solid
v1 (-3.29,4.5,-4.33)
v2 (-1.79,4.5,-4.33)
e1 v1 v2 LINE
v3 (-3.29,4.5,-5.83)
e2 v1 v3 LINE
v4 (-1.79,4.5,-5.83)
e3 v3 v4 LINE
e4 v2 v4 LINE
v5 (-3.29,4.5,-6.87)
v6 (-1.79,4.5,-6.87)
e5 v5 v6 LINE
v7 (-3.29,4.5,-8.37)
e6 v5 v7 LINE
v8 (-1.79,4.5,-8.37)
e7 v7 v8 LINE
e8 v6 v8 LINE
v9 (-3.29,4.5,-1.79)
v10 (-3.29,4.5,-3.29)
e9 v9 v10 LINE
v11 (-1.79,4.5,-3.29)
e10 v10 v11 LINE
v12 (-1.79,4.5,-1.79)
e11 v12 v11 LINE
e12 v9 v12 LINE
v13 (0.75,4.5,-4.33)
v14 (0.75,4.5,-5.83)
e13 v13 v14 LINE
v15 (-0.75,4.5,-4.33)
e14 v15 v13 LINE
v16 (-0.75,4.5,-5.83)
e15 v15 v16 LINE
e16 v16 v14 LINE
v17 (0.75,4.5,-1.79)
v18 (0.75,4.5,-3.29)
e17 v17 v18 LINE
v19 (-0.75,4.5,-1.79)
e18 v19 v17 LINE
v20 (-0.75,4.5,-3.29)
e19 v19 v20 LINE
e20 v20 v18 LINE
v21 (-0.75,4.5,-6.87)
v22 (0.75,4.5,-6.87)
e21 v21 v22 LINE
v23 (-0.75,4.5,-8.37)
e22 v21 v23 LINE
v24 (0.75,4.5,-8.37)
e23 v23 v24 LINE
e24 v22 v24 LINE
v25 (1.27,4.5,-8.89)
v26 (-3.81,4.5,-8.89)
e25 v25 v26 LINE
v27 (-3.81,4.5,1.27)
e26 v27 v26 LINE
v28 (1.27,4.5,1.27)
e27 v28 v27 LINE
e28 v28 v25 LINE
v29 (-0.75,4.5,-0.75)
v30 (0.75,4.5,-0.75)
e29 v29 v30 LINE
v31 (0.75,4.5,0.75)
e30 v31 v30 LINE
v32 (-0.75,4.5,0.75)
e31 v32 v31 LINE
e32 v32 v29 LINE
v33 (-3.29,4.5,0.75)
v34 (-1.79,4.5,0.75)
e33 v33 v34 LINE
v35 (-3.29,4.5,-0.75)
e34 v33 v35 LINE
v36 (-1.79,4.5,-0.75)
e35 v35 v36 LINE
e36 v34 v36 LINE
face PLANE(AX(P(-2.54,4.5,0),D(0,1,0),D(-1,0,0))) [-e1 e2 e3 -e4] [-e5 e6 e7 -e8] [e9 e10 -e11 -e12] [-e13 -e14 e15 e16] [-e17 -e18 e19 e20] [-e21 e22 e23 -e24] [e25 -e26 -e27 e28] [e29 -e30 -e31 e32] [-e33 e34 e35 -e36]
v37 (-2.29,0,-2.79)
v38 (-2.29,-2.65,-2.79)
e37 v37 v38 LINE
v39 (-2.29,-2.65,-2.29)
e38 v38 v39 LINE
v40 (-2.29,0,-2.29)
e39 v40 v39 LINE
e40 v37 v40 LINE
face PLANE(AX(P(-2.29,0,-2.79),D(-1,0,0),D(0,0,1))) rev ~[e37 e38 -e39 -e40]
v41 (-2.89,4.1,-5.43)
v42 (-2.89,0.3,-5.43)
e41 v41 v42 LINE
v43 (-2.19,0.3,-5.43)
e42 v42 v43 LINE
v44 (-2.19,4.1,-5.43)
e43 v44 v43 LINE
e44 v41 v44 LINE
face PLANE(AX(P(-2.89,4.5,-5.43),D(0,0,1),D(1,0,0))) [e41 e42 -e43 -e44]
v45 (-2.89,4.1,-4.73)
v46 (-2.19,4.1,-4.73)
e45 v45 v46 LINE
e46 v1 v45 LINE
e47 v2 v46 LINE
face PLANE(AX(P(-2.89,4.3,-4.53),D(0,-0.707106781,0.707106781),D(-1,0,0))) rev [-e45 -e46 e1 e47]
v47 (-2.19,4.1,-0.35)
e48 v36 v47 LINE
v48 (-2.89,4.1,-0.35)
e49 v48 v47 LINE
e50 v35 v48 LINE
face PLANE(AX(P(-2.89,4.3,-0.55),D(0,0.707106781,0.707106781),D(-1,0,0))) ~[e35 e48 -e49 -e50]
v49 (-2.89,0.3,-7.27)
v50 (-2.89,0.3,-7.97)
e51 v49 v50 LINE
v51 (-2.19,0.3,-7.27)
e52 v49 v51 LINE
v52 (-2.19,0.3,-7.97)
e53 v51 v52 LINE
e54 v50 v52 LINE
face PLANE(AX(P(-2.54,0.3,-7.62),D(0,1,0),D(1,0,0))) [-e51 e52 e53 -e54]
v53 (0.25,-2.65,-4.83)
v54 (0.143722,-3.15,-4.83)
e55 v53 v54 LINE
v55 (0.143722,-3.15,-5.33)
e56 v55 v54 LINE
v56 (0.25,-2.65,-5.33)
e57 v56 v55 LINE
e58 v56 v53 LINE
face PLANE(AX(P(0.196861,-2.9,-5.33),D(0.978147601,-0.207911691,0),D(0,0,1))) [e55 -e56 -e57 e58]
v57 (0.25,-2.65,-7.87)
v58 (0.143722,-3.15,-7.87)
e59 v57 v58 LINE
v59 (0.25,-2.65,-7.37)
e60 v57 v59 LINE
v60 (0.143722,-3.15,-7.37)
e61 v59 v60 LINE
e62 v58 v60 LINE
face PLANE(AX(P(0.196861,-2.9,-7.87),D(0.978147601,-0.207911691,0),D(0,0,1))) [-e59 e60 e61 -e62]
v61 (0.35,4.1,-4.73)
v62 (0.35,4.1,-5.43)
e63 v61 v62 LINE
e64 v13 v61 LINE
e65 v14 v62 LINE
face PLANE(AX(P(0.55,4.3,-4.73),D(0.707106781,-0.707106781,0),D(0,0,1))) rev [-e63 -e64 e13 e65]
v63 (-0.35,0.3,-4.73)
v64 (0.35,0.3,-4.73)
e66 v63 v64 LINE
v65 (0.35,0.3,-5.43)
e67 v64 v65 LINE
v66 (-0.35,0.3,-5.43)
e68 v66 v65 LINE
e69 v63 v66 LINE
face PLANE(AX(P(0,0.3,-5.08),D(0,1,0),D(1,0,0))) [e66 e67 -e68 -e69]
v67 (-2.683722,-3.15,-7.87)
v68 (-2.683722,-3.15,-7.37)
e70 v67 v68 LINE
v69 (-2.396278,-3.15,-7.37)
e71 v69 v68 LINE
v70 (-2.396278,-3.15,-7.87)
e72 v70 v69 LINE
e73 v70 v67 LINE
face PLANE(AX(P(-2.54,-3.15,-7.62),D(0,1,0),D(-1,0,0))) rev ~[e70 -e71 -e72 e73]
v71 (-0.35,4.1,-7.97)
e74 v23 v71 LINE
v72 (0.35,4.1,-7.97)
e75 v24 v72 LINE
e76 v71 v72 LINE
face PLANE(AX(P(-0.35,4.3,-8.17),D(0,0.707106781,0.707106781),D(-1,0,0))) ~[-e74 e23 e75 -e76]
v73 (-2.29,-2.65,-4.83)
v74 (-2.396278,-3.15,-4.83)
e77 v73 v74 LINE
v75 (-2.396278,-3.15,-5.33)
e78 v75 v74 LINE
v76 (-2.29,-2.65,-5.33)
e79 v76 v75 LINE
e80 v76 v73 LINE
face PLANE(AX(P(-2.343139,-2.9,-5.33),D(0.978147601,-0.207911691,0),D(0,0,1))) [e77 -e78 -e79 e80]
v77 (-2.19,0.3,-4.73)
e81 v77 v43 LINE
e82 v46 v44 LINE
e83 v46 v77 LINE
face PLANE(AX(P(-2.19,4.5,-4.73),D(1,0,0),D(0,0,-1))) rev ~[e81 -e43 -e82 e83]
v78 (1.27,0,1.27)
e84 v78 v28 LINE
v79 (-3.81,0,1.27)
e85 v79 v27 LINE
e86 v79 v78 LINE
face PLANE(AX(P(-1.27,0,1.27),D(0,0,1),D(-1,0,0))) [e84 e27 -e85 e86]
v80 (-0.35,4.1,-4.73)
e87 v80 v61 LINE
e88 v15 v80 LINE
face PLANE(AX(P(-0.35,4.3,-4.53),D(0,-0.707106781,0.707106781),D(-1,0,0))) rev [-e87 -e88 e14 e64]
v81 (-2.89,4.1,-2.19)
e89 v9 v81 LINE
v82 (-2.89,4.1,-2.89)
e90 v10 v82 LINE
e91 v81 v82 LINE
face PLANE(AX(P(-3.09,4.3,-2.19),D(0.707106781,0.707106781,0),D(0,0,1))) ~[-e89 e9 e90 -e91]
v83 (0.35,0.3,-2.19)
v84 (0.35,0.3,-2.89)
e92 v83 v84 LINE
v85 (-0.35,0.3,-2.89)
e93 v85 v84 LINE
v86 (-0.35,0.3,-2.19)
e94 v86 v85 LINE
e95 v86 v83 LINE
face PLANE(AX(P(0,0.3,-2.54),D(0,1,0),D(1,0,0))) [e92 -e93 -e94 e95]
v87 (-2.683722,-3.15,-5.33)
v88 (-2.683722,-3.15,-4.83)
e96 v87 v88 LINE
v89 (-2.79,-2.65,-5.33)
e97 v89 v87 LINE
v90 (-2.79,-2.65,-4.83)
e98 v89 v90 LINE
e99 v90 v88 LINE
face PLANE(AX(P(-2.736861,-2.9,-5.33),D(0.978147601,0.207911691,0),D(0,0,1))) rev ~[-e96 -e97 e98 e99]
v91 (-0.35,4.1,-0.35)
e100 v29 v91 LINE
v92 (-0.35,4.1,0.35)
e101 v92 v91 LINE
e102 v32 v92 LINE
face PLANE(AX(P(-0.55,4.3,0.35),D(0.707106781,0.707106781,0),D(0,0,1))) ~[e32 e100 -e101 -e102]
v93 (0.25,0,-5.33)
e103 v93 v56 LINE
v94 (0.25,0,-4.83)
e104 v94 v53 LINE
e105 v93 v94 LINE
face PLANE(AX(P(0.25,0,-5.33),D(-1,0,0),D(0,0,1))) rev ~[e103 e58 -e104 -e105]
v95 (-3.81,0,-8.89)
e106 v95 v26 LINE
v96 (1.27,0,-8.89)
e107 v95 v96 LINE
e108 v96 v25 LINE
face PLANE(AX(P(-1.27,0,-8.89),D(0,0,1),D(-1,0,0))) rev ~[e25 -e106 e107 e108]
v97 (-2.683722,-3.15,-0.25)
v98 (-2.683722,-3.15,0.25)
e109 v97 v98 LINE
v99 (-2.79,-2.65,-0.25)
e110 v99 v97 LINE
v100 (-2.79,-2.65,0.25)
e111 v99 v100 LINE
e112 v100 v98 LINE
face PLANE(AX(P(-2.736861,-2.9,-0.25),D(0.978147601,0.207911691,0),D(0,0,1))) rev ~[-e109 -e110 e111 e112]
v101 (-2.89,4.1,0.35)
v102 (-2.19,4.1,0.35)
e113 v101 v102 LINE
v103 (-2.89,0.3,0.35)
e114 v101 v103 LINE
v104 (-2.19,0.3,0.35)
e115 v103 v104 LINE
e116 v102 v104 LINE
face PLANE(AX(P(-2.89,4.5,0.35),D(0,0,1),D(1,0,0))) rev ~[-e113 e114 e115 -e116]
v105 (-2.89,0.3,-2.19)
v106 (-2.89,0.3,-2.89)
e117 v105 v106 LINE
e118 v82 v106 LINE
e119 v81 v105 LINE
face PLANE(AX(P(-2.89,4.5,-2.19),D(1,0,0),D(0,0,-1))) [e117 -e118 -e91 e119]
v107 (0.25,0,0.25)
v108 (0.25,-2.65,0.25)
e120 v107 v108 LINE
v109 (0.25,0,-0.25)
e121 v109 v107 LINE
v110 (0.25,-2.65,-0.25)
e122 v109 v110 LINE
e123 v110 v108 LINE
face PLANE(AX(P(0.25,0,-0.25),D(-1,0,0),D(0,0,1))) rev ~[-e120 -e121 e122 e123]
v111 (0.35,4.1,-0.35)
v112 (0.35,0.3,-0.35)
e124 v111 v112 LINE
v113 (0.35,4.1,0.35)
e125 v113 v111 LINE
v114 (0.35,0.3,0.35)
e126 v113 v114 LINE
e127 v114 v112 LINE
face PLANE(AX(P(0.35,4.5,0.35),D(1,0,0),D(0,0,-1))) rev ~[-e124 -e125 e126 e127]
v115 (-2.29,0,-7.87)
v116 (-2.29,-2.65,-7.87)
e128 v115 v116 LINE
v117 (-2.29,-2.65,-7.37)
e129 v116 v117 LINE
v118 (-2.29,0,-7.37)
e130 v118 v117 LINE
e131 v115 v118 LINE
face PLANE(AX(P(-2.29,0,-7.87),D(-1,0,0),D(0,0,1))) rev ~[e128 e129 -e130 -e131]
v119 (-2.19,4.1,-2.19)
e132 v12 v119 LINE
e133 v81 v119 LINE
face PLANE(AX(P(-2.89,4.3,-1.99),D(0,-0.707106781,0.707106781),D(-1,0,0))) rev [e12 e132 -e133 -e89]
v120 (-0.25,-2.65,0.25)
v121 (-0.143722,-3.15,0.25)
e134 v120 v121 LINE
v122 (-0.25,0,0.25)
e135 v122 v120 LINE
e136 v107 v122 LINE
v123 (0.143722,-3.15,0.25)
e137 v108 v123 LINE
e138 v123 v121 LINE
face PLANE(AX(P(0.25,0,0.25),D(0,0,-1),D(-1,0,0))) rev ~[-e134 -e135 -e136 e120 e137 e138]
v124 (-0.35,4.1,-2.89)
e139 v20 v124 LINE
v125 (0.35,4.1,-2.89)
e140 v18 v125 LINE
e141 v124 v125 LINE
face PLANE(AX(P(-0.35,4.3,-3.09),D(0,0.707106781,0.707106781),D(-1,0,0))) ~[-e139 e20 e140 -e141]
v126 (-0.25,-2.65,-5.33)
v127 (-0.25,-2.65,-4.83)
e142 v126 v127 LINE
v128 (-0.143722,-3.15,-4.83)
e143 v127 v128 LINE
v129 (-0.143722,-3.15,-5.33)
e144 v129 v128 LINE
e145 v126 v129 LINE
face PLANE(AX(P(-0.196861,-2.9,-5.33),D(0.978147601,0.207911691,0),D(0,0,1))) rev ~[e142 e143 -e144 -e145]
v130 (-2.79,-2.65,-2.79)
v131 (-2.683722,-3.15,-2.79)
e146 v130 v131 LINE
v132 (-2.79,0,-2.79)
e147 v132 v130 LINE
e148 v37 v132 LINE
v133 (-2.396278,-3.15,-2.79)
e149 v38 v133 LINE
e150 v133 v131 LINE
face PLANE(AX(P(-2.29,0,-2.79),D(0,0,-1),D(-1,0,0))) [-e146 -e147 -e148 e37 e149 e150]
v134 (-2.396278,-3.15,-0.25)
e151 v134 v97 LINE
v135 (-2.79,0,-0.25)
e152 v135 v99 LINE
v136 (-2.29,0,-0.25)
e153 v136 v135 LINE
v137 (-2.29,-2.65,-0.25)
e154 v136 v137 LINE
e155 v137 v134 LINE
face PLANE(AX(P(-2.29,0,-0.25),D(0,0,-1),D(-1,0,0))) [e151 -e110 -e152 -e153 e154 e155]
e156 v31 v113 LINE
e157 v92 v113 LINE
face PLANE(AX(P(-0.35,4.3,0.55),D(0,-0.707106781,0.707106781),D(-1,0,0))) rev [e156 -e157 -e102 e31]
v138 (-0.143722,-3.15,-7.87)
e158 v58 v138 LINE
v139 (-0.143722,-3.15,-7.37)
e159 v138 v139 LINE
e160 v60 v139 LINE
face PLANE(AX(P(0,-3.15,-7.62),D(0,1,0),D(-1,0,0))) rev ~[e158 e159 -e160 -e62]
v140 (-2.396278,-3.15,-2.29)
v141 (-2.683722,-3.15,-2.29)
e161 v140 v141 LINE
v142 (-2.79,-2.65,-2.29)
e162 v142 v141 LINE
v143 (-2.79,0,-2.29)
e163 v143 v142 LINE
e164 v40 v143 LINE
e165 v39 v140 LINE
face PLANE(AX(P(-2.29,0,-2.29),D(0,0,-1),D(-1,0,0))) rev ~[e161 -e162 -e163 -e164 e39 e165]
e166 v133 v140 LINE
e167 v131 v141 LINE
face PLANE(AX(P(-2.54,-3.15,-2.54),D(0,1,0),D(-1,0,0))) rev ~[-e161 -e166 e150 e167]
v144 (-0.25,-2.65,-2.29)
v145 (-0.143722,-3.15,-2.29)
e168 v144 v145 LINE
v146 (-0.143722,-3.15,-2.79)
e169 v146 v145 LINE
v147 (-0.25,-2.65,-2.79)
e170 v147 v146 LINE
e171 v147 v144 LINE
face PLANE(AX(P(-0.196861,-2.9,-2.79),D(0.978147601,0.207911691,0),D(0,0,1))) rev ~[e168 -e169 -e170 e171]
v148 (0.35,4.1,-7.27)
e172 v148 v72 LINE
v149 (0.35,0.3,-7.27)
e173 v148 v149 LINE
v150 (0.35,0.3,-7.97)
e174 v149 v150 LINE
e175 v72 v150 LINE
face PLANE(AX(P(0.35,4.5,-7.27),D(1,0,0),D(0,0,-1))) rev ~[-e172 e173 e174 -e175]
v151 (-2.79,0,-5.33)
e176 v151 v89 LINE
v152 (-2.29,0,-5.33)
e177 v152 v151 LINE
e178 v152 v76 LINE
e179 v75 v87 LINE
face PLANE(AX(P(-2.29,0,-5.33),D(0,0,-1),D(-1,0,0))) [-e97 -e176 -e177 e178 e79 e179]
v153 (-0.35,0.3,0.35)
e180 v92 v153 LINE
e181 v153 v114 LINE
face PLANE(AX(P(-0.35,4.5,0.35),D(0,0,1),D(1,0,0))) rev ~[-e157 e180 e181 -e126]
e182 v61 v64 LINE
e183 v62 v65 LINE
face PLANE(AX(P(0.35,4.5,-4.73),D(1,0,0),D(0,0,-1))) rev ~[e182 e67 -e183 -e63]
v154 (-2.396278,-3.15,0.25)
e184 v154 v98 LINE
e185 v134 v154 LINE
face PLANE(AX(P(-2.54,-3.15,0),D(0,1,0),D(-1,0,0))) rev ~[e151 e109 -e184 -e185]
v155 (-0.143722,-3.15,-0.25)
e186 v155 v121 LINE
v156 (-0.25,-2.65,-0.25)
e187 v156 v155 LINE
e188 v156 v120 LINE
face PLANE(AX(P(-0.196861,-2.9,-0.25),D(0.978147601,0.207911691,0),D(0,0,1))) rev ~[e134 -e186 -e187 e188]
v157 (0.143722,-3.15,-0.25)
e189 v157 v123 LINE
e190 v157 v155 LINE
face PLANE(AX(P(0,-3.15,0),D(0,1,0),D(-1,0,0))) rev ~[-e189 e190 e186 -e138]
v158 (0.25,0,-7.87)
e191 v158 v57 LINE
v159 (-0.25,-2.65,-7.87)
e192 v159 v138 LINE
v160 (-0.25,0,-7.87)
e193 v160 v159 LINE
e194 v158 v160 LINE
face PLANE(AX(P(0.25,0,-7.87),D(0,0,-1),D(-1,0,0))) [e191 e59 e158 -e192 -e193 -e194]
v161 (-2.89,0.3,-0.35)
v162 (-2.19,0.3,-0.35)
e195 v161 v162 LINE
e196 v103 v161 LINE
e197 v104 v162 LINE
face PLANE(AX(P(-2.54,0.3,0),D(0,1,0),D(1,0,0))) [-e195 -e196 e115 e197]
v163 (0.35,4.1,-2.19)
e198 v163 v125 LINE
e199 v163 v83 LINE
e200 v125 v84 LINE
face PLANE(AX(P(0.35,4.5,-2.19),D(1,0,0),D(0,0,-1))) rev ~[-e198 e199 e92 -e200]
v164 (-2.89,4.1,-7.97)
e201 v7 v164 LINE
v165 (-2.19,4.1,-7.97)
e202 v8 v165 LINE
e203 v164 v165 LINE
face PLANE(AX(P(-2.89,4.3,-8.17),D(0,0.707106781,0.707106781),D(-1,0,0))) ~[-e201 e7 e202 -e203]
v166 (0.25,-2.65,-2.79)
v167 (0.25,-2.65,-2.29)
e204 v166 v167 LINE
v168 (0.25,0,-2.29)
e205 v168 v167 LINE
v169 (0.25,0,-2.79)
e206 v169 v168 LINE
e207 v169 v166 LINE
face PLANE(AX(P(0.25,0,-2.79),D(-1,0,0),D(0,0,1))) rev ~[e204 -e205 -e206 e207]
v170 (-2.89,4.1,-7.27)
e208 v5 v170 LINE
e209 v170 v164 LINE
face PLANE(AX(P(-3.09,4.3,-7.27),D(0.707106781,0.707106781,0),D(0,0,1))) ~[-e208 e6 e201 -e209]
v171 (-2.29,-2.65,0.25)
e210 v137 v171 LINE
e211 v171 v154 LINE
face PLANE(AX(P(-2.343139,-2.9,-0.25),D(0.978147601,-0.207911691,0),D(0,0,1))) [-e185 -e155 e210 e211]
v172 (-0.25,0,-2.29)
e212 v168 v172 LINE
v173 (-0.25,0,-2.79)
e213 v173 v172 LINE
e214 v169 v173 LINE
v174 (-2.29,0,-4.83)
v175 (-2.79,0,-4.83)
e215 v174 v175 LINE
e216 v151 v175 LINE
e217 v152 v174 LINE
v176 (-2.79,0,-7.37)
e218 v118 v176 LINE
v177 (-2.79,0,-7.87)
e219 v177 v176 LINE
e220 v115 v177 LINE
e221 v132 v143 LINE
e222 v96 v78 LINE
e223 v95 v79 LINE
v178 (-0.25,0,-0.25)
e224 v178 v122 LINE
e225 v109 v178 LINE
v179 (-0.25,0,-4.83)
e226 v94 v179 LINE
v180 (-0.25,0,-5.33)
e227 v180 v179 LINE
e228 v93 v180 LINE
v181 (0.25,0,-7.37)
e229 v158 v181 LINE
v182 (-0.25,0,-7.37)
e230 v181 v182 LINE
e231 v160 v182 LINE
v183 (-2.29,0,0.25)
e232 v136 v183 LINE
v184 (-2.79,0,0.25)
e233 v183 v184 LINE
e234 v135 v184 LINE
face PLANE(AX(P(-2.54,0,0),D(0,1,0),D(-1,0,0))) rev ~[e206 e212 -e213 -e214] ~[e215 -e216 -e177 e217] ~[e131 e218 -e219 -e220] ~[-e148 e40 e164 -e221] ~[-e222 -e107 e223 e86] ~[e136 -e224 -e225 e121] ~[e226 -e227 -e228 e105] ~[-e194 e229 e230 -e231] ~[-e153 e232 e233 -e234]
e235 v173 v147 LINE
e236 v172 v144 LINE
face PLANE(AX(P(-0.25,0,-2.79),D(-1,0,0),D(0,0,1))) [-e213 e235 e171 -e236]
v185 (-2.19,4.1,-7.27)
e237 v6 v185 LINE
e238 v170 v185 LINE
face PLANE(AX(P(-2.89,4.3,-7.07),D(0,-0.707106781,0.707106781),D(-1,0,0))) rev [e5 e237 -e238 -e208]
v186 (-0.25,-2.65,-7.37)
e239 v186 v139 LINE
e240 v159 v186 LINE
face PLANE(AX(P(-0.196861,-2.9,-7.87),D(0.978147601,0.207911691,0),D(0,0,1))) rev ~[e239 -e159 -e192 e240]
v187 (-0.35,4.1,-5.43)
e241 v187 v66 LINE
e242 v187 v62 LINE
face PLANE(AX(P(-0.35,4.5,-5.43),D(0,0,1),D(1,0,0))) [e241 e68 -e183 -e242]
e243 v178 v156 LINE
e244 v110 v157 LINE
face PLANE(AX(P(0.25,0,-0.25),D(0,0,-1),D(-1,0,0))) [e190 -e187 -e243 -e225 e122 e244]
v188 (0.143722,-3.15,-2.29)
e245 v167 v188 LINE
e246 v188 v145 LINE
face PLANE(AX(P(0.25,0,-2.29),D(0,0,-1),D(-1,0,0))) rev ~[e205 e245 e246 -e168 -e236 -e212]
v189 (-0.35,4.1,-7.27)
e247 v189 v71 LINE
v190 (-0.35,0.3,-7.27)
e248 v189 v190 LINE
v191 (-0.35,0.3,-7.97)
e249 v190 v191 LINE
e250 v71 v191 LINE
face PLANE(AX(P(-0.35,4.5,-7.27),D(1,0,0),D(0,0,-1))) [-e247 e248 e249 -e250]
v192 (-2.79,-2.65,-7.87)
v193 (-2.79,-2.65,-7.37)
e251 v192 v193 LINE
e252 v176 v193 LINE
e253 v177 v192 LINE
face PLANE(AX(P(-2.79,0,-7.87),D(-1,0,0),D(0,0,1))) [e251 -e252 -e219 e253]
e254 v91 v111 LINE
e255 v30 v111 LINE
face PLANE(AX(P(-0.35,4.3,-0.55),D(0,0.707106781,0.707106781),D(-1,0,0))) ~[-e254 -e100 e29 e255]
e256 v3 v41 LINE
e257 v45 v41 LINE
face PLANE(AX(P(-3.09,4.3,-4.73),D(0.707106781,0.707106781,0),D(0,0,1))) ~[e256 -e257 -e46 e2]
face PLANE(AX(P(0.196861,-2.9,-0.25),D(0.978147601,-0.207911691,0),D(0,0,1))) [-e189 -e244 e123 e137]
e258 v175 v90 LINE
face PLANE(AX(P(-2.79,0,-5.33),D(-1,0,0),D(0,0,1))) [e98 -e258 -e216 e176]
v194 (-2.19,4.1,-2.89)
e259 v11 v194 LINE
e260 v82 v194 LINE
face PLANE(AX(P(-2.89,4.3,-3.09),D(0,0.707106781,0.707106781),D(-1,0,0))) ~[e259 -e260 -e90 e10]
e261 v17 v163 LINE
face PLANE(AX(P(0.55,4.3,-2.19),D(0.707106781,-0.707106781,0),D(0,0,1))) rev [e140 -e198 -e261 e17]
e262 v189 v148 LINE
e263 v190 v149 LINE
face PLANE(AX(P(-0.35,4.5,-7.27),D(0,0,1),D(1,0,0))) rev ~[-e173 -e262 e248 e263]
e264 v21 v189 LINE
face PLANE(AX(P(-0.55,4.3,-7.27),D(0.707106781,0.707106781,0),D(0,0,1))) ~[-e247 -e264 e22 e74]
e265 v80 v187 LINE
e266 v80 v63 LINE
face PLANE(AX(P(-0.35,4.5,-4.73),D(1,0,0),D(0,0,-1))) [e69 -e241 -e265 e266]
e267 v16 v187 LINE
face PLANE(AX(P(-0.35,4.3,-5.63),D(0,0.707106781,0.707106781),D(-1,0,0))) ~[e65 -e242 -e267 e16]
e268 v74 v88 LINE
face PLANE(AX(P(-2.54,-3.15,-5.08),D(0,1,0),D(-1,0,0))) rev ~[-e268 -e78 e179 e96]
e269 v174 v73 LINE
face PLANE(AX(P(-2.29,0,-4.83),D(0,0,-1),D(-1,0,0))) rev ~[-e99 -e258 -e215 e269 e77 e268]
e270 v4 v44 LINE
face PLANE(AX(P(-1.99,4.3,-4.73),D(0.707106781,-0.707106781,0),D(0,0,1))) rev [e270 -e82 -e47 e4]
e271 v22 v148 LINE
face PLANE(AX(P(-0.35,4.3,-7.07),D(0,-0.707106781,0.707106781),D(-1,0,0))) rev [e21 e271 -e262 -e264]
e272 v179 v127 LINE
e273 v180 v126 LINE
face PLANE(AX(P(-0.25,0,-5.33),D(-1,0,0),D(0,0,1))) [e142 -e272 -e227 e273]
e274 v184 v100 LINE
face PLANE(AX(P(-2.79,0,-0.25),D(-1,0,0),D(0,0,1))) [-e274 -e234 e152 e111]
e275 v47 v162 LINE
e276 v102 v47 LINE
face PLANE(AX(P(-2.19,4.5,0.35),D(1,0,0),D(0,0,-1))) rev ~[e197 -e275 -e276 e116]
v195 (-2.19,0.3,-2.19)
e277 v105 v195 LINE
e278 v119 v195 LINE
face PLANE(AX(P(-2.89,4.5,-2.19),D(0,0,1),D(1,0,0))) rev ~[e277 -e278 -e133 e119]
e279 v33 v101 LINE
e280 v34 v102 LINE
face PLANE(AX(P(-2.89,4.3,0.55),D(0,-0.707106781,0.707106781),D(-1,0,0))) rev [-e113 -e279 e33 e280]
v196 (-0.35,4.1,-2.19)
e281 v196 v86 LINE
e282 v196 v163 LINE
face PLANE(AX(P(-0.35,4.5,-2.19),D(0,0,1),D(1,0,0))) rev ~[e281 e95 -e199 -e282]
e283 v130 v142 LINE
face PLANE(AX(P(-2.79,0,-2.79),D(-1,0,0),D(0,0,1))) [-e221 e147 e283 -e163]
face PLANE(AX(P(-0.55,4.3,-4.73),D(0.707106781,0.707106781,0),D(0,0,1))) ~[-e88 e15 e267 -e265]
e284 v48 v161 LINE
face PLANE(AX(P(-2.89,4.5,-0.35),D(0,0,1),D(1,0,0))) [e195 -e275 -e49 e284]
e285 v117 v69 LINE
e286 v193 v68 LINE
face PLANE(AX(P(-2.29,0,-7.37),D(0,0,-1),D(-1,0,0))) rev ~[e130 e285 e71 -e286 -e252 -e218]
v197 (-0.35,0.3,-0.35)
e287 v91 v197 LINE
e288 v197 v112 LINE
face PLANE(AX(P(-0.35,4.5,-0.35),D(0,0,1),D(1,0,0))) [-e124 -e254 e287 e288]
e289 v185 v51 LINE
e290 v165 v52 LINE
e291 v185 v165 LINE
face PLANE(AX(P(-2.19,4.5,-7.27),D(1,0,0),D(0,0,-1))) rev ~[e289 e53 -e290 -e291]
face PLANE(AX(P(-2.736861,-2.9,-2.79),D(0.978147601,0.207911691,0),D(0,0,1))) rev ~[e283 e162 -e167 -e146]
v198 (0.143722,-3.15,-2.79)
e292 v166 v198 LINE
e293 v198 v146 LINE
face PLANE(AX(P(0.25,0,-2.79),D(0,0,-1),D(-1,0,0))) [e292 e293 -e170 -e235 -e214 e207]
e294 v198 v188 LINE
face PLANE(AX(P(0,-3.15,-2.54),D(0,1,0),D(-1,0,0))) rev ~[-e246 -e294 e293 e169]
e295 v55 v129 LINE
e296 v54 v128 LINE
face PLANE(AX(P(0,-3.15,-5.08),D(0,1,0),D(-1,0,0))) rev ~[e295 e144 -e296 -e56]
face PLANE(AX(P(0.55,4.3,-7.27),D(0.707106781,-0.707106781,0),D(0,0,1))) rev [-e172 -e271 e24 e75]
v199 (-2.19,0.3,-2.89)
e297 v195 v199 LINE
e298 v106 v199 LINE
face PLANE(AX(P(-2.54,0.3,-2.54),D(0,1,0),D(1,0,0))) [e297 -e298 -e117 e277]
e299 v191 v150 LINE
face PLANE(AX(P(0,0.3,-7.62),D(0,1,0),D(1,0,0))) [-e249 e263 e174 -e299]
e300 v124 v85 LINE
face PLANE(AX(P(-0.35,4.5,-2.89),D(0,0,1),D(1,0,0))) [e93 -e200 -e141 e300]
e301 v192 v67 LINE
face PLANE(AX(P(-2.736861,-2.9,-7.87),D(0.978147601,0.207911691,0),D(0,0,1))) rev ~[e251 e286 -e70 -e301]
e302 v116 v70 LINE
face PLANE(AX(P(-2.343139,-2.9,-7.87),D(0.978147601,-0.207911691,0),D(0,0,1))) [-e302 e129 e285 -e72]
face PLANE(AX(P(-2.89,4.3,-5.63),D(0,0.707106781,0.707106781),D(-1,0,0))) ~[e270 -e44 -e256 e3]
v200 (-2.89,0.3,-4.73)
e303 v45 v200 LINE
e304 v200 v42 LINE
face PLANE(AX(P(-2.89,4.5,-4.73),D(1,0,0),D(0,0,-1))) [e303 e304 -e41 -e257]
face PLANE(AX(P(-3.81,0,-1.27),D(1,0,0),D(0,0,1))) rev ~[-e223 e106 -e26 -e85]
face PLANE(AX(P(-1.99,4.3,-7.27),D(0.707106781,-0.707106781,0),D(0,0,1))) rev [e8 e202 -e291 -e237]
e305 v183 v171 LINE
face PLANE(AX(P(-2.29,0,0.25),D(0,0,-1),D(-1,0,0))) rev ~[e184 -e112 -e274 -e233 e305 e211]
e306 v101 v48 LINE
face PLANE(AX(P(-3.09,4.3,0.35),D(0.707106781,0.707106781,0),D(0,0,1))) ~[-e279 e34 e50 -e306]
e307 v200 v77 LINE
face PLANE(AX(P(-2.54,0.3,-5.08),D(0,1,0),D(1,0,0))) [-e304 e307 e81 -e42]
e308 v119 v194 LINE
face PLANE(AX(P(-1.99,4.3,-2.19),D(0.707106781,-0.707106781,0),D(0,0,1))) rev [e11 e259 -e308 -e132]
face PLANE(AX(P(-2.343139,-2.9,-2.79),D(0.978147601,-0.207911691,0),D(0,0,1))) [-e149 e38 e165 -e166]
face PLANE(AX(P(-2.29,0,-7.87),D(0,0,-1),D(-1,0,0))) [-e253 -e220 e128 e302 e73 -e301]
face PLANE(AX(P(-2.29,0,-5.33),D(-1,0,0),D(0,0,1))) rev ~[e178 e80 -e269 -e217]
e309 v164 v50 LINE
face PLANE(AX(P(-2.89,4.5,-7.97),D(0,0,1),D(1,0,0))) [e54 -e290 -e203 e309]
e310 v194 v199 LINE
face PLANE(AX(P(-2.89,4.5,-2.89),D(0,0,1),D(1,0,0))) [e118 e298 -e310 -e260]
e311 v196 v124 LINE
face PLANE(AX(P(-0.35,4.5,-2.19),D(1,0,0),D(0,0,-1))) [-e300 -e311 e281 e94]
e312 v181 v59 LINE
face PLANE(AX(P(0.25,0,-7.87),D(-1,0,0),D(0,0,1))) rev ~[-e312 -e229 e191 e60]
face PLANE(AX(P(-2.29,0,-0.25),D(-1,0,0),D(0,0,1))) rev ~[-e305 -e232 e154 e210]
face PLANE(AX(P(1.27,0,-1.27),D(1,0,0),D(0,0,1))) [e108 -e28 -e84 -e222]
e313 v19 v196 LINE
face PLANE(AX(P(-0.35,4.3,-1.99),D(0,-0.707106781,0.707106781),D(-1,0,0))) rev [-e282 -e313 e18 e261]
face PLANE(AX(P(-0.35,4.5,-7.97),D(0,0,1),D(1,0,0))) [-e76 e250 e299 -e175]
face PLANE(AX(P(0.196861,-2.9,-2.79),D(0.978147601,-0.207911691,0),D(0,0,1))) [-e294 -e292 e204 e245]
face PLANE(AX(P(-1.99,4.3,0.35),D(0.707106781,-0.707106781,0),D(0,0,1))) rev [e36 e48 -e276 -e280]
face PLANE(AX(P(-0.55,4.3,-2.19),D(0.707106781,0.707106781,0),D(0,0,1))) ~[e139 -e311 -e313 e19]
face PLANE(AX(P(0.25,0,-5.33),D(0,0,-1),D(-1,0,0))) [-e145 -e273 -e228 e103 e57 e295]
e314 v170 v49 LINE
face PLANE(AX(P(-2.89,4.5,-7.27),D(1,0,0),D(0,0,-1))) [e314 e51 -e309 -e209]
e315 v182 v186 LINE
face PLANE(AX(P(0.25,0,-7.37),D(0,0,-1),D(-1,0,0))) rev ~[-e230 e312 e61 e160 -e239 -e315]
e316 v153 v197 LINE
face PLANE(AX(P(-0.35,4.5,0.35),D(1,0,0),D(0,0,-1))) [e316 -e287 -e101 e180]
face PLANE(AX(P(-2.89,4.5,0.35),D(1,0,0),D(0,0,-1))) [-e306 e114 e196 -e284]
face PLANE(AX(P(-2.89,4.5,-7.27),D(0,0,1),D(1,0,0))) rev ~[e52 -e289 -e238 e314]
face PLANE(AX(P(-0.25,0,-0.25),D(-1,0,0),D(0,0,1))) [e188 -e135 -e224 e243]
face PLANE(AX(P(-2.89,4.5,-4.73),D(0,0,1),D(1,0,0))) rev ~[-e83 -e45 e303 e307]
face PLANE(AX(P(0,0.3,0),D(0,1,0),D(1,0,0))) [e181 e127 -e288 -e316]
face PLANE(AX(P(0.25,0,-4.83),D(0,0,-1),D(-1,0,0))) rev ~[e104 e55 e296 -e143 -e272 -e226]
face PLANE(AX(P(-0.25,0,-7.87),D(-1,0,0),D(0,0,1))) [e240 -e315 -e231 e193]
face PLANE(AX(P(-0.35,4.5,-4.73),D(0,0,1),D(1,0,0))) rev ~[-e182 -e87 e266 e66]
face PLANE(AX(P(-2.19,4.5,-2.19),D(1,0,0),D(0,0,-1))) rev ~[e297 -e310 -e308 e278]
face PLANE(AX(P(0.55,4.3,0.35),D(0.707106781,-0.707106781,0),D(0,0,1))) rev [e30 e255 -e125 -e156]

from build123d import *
from OCP.BRepFilletAPI import BRepFilletAPI_MakeChamfer

# Parameters (mm, degrees)
SKETCH_1_W                          = 2.54
SKETCH_1_H                          = 2.54
EXTRUDE_1_DEPTH                     = 4.5
SKETCH_4_W                          = 0.7
SKETCH_4_H                          = 0.7
CUT_EXTRUDE_1_DEPTH                 = 4.2
CHAMFER_3_SIZE                      = 0.4
SKETCH_2_W                          = 0.5
SKETCH_2_H                          = 0.5
EXTRUDE_2_DEPTH                     = 3.15
CHAMFER_2_SIZE                      = 0.5
CHAMFER_2_SIZE2                     = 0.106278281
PATTERN_LINEAR_1_COUNT              = 4
PATTERN_LINEAR_1_PITCH              = 2.54
PATTERN_LINEAR_1_COUNT_DIR2         = 2
PATTERN_LINEAR_1_PITCH_DIR2         = 2.54
CHAMFER_3_OF_PATTERN_LINEAR_1_SIZE  = 0.4
CHAMFER_2_OF_PATTERN_LINEAR_1_SIZE  = 0.5
CHAMFER_2_OF_PATTERN_LINEAR_1_SIZE2 = 0.106278281


with BuildPart() as part:
    # Эскиз1 → Бобышка-Вытянуть1 (new body)
    with BuildSketch(Plane(origin=(0, 0, 0), x_dir=(-1, 0, 0), z_dir=(0, 1, 0))):
        Rectangle(SKETCH_1_W, SKETCH_1_H)
    extrude_1 = extrude(amount=EXTRUDE_1_DEPTH)

    # Эскиз4 → Вырез-Вытянуть1 (cut)
    with BuildSketch(Plane(origin=(0, 4.5, 0), x_dir=(1, 0, 0), z_dir=(0, 1, 0))):
        Rectangle(SKETCH_4_W, SKETCH_4_H)
    cut_extrude_1 = extrude(amount=-CUT_EXTRUDE_1_DEPTH, mode=Mode.SUBTRACT)

    # Фаска3
    chamfer_3_edges = [part.edges().sort_by_distance(p)[0] for p in [
        (-0.35, 4.5, 0),
        (0, 4.5, 0.35),
        (0.35, 4.5, 0),
        (0, 4.5, -0.35),
    ]]
    chamfer(chamfer_3_edges, length=CHAMFER_3_SIZE)

    # Эскиз2 → Бобышка-Вытянуть2 (add)
    with BuildSketch(Plane(origin=(0, 0, 0), x_dir=(-1, 0, 0), z_dir=(0, 1, 0))):
        Rectangle(SKETCH_2_W, SKETCH_2_H)
    extrude_2 = extrude(amount=-EXTRUDE_2_DEPTH)

    # Фаска2: one chamfer whose edges measure the first distance from different faces: ONE call of the kernel's chamfer builder (chamfer() names one face for all edges)
    chamfer_2_edges_1 = [part.edges().sort_by_distance(p)[0] for p in [
        (-0.25, -3.15, 0),
    ]]
    chamfer_2_side_1 = [part.faces().sort_by_distance(p)[0] for p in [
        (-0.25, -1.575, 0),
    ]]
    chamfer_2_edges_2 = [part.edges().sort_by_distance(p)[0] for p in [
        (0.25, -3.15, 0),
    ]]
    chamfer_2_side_2 = [part.faces().sort_by_distance(p)[0] for p in [
        (0.25, -1.575, 0),
    ]]
    chamfer_2 = BRepFilletAPI_MakeChamfer(part.part.solid().wrapped)
    for e in chamfer_2_edges_1:
        chamfer_2.Add(CHAMFER_2_SIZE, CHAMFER_2_SIZE2, e.wrapped, chamfer_2_side_1[0].wrapped)  # the first distance lies on this face
    for e in chamfer_2_edges_2:
        chamfer_2.Add(CHAMFER_2_SIZE, CHAMFER_2_SIZE2, e.wrapped, chamfer_2_side_2[0].wrapped)  # the first distance lies on this face
    add(Compound.cast(chamfer_2.Shape()), mode=Mode.REPLACE)

    # Линейный массив1: Бобышка-Вытянуть1, Вырез-Вытянуть1, Extrude 2 4 × 2
    with Locations(*[(-j * PATTERN_LINEAR_1_PITCH_DIR2, 0, -i * PATTERN_LINEAR_1_PITCH) for i in range(PATTERN_LINEAR_1_COUNT) for j in range(PATTERN_LINEAR_1_COUNT_DIR2) if (i, j) != (0, 0)]):
        add(extrude_1)
        add(cut_extrude_1, mode=Mode.SUBTRACT)
        add(extrude_2)

    # Фаска3 of Линейный массив1
    chamfer_3_of_pattern_linear_1_edges = [part.edges().sort_by_distance(p)[0] for p in [
        (-2.89, 4.5, 0),
        (-2.54, 4.5, 0.35),
        (-2.19, 4.5, 0),
        (-2.54, 4.5, -0.35),
        (-0.35, 4.5, -2.54),
        (0, 4.5, -2.19),
        (0.35, 4.5, -2.54),
        (0, 4.5, -2.89),
        (-2.89, 4.5, -2.54),
        (-2.54, 4.5, -2.19),
        (-2.19, 4.5, -2.54),
        (-2.54, 4.5, -2.89),
        (-0.35, 4.5, -5.08),
        (0, 4.5, -4.73),
        (0.35, 4.5, -5.08),
        (0, 4.5, -5.43),
        (-2.89, 4.5, -5.08),
        (-2.54, 4.5, -4.73),
        (-2.19, 4.5, -5.08),
        (-2.54, 4.5, -5.43),
        (-0.35, 4.5, -7.62),
        (0, 4.5, -7.27),
        (0.35, 4.5, -7.62),
        (0, 4.5, -7.97),
        (-2.89, 4.5, -7.62),
        (-2.54, 4.5, -7.27),
        (-2.19, 4.5, -7.62),
        (-2.54, 4.5, -7.97),
    ]]
    chamfer(chamfer_3_of_pattern_linear_1_edges, length=CHAMFER_3_OF_PATTERN_LINEAR_1_SIZE)

    # Фаска2 of Линейный массив1: one chamfer whose edges measure the first distance from different faces: ONE call of the kernel's chamfer builder (chamfer() names one face for all edges)
    chamfer_2_of_pattern_linear_1_edges_1 = [part.edges().sort_by_distance(p)[0] for p in [
        (-2.79, -3.15, 0),
    ]]
    chamfer_2_of_pattern_linear_1_side_1 = [part.faces().sort_by_distance(p)[0] for p in [
        (-2.79, -1.575, 0),
    ]]
    chamfer_2_of_pattern_linear_1_edges_2 = [part.edges().sort_by_distance(p)[0] for p in [
        (-2.29, -3.15, 0),
    ]]
    chamfer_2_of_pattern_linear_1_side_2 = [part.faces().sort_by_distance(p)[0] for p in [
        (-2.29, -1.575, 0),
    ]]
    chamfer_2_of_pattern_linear_1_edges_3 = [part.edges().sort_by_distance(p)[0] for p in [
        (-0.25, -3.15, -2.54),
    ]]
    chamfer_2_of_pattern_linear_1_side_3 = [part.faces().sort_by_distance(p)[0] for p in [
        (-0.25, -1.575, -2.54),
    ]]
    chamfer_2_of_pattern_linear_1_edges_4 = [part.edges().sort_by_distance(p)[0] for p in [
        (0.25, -3.15, -2.54),
    ]]
    chamfer_2_of_pattern_linear_1_side_4 = [part.faces().sort_by_distance(p)[0] for p in [
        (0.25, -1.575, -2.54),
    ]]
    chamfer_2_of_pattern_linear_1_edges_5 = [part.edges().sort_by_distance(p)[0] for p in [
        (-2.79, -3.15, -2.54),
    ]]
    chamfer_2_of_pattern_linear_1_side_5 = [part.faces().sort_by_distance(p)[0] for p in [
        (-2.79, -1.575, -2.54),
    ]]
    chamfer_2_of_pattern_linear_1_edges_6 = [part.edges().sort_by_distance(p)[0] for p in [
        (-2.29, -3.15, -2.54),
    ]]
    chamfer_2_of_pattern_linear_1_side_6 = [part.faces().sort_by_distance(p)[0] for p in [
        (-2.29, -1.575, -2.54),
    ]]
    chamfer_2_of_pattern_linear_1_edges_7 = [part.edges().sort_by_distance(p)[0] for p in [
        (-0.25, -3.15, -5.08),
    ]]
    chamfer_2_of_pattern_linear_1_side_7 = [part.faces().sort_by_distance(p)[0] for p in [
        (-0.25, -1.575, -5.08),
    ]]
    chamfer_2_of_pattern_linear_1_edges_8 = [part.edges().sort_by_distance(p)[0] for p in [
        (0.25, -3.15, -5.08),
    ]]
    chamfer_2_of_pattern_linear_1_side_8 = [part.faces().sort_by_distance(p)[0] for p in [
        (0.25, -1.575, -5.08),
    ]]
    chamfer_2_of_pattern_linear_1_edges_9 = [part.edges().sort_by_distance(p)[0] for p in [
        (-2.79, -3.15, -5.08),
    ]]
    chamfer_2_of_pattern_linear_1_side_9 = [part.faces().sort_by_distance(p)[0] for p in [
        (-2.79, -1.575, -5.08),
    ]]
    chamfer_2_of_pattern_linear_1_edges_10 = [part.edges().sort_by_distance(p)[0] for p in [
        (-2.29, -3.15, -5.08),
    ]]
    chamfer_2_of_pattern_linear_1_side_10 = [part.faces().sort_by_distance(p)[0] for p in [
        (-2.29, -1.575, -5.08),
    ]]
    chamfer_2_of_pattern_linear_1_edges_11 = [part.edges().sort_by_distance(p)[0] for p in [
        (-0.25, -3.15, -7.62),
    ]]
    chamfer_2_of_pattern_linear_1_side_11 = [part.faces().sort_by_distance(p)[0] for p in [
        (-0.25, -1.575, -7.62),
    ]]
    chamfer_2_of_pattern_linear_1_edges_12 = [part.edges().sort_by_distance(p)[0] for p in [
        (0.25, -3.15, -7.62),
    ]]
    chamfer_2_of_pattern_linear_1_side_12 = [part.faces().sort_by_distance(p)[0] for p in [
        (0.25, -1.575, -7.62),
    ]]
    chamfer_2_of_pattern_linear_1_edges_13 = [part.edges().sort_by_distance(p)[0] for p in [
        (-2.79, -3.15, -7.62),
    ]]
    chamfer_2_of_pattern_linear_1_side_13 = [part.faces().sort_by_distance(p)[0] for p in [
        (-2.79, -1.575, -7.62),
    ]]
    chamfer_2_of_pattern_linear_1_edges_14 = [part.edges().sort_by_distance(p)[0] for p in [
        (-2.29, -3.15, -7.62),
    ]]
    chamfer_2_of_pattern_linear_1_side_14 = [part.faces().sort_by_distance(p)[0] for p in [
        (-2.29, -1.575, -7.62),
    ]]
    chamfer_2_of_pattern_linear_1 = BRepFilletAPI_MakeChamfer(part.part.solid().wrapped)
    for e in chamfer_2_of_pattern_linear_1_edges_1:
        chamfer_2_of_pattern_linear_1.Add(CHAMFER_2_OF_PATTERN_LINEAR_1_SIZE, CHAMFER_2_OF_PATTERN_LINEAR_1_SIZE2, e.wrapped, chamfer_2_of_pattern_linear_1_side_1[0].wrapped)  # the first distance lies on this face
    for e in chamfer_2_of_pattern_linear_1_edges_2:
        chamfer_2_of_pattern_linear_1.Add(CHAMFER_2_OF_PATTERN_LINEAR_1_SIZE, CHAMFER_2_OF_PATTERN_LINEAR_1_SIZE2, e.wrapped, chamfer_2_of_pattern_linear_1_side_2[0].wrapped)  # the first distance lies on this face
    for e in chamfer_2_of_pattern_linear_1_edges_3:
        chamfer_2_of_pattern_linear_1.Add(CHAMFER_2_OF_PATTERN_LINEAR_1_SIZE, CHAMFER_2_OF_PATTERN_LINEAR_1_SIZE2, e.wrapped, chamfer_2_of_pattern_linear_1_side_3[0].wrapped)  # the first distance lies on this face
    for e in chamfer_2_of_pattern_linear_1_edges_4:
        chamfer_2_of_pattern_linear_1.Add(CHAMFER_2_OF_PATTERN_LINEAR_1_SIZE, CHAMFER_2_OF_PATTERN_LINEAR_1_SIZE2, e.wrapped, chamfer_2_of_pattern_linear_1_side_4[0].wrapped)  # the first distance lies on this face
    for e in chamfer_2_of_pattern_linear_1_edges_5:
        chamfer_2_of_pattern_linear_1.Add(CHAMFER_2_OF_PATTERN_LINEAR_1_SIZE, CHAMFER_2_OF_PATTERN_LINEAR_1_SIZE2, e.wrapped, chamfer_2_of_pattern_linear_1_side_5[0].wrapped)  # the first distance lies on this face
    for e in chamfer_2_of_pattern_linear_1_edges_6:
        chamfer_2_of_pattern_linear_1.Add(CHAMFER_2_OF_PATTERN_LINEAR_1_SIZE, CHAMFER_2_OF_PATTERN_LINEAR_1_SIZE2, e.wrapped, chamfer_2_of_pattern_linear_1_side_6[0].wrapped)  # the first distance lies on this face
    for e in chamfer_2_of_pattern_linear_1_edges_7:
        chamfer_2_of_pattern_linear_1.Add(CHAMFER_2_OF_PATTERN_LINEAR_1_SIZE, CHAMFER_2_OF_PATTERN_LINEAR_1_SIZE2, e.wrapped, chamfer_2_of_pattern_linear_1_side_7[0].wrapped)  # the first distance lies on this face
    for e in chamfer_2_of_pattern_linear_1_edges_8:
        chamfer_2_of_pattern_linear_1.Add(CHAMFER_2_OF_PATTERN_LINEAR_1_SIZE, CHAMFER_2_OF_PATTERN_LINEAR_1_SIZE2, e.wrapped, chamfer_2_of_pattern_linear_1_side_8[0].wrapped)  # the first distance lies on this face
    for e in chamfer_2_of_pattern_linear_1_edges_9:
        chamfer_2_of_pattern_linear_1.Add(CHAMFER_2_OF_PATTERN_LINEAR_1_SIZE, CHAMFER_2_OF_PATTERN_LINEAR_1_SIZE2, e.wrapped, chamfer_2_of_pattern_linear_1_side_9[0].wrapped)  # the first distance lies on this face
    for e in chamfer_2_of_pattern_linear_1_edges_10:
        chamfer_2_of_pattern_linear_1.Add(CHAMFER_2_OF_PATTERN_LINEAR_1_SIZE, CHAMFER_2_OF_PATTERN_LINEAR_1_SIZE2, e.wrapped, chamfer_2_of_pattern_linear_1_side_10[0].wrapped)  # the first distance lies on this face
    for e in chamfer_2_of_pattern_linear_1_edges_11:
        chamfer_2_of_pattern_linear_1.Add(CHAMFER_2_OF_PATTERN_LINEAR_1_SIZE, CHAMFER_2_OF_PATTERN_LINEAR_1_SIZE2, e.wrapped, chamfer_2_of_pattern_linear_1_side_11[0].wrapped)  # the first distance lies on this face
    for e in chamfer_2_of_pattern_linear_1_edges_12:
        chamfer_2_of_pattern_linear_1.Add(CHAMFER_2_OF_PATTERN_LINEAR_1_SIZE, CHAMFER_2_OF_PATTERN_LINEAR_1_SIZE2, e.wrapped, chamfer_2_of_pattern_linear_1_side_12[0].wrapped)  # the first distance lies on this face
    for e in chamfer_2_of_pattern_linear_1_edges_13:
        chamfer_2_of_pattern_linear_1.Add(CHAMFER_2_OF_PATTERN_LINEAR_1_SIZE, CHAMFER_2_OF_PATTERN_LINEAR_1_SIZE2, e.wrapped, chamfer_2_of_pattern_linear_1_side_13[0].wrapped)  # the first distance lies on this face
    for e in chamfer_2_of_pattern_linear_1_edges_14:
        chamfer_2_of_pattern_linear_1.Add(CHAMFER_2_OF_PATTERN_LINEAR_1_SIZE, CHAMFER_2_OF_PATTERN_LINEAR_1_SIZE2, e.wrapped, chamfer_2_of_pattern_linear_1_side_14[0].wrapped)  # the first distance lies on this face
    add(Compound.cast(chamfer_2_of_pattern_linear_1.Shape()), mode=Mode.REPLACE)


solid = part.part
